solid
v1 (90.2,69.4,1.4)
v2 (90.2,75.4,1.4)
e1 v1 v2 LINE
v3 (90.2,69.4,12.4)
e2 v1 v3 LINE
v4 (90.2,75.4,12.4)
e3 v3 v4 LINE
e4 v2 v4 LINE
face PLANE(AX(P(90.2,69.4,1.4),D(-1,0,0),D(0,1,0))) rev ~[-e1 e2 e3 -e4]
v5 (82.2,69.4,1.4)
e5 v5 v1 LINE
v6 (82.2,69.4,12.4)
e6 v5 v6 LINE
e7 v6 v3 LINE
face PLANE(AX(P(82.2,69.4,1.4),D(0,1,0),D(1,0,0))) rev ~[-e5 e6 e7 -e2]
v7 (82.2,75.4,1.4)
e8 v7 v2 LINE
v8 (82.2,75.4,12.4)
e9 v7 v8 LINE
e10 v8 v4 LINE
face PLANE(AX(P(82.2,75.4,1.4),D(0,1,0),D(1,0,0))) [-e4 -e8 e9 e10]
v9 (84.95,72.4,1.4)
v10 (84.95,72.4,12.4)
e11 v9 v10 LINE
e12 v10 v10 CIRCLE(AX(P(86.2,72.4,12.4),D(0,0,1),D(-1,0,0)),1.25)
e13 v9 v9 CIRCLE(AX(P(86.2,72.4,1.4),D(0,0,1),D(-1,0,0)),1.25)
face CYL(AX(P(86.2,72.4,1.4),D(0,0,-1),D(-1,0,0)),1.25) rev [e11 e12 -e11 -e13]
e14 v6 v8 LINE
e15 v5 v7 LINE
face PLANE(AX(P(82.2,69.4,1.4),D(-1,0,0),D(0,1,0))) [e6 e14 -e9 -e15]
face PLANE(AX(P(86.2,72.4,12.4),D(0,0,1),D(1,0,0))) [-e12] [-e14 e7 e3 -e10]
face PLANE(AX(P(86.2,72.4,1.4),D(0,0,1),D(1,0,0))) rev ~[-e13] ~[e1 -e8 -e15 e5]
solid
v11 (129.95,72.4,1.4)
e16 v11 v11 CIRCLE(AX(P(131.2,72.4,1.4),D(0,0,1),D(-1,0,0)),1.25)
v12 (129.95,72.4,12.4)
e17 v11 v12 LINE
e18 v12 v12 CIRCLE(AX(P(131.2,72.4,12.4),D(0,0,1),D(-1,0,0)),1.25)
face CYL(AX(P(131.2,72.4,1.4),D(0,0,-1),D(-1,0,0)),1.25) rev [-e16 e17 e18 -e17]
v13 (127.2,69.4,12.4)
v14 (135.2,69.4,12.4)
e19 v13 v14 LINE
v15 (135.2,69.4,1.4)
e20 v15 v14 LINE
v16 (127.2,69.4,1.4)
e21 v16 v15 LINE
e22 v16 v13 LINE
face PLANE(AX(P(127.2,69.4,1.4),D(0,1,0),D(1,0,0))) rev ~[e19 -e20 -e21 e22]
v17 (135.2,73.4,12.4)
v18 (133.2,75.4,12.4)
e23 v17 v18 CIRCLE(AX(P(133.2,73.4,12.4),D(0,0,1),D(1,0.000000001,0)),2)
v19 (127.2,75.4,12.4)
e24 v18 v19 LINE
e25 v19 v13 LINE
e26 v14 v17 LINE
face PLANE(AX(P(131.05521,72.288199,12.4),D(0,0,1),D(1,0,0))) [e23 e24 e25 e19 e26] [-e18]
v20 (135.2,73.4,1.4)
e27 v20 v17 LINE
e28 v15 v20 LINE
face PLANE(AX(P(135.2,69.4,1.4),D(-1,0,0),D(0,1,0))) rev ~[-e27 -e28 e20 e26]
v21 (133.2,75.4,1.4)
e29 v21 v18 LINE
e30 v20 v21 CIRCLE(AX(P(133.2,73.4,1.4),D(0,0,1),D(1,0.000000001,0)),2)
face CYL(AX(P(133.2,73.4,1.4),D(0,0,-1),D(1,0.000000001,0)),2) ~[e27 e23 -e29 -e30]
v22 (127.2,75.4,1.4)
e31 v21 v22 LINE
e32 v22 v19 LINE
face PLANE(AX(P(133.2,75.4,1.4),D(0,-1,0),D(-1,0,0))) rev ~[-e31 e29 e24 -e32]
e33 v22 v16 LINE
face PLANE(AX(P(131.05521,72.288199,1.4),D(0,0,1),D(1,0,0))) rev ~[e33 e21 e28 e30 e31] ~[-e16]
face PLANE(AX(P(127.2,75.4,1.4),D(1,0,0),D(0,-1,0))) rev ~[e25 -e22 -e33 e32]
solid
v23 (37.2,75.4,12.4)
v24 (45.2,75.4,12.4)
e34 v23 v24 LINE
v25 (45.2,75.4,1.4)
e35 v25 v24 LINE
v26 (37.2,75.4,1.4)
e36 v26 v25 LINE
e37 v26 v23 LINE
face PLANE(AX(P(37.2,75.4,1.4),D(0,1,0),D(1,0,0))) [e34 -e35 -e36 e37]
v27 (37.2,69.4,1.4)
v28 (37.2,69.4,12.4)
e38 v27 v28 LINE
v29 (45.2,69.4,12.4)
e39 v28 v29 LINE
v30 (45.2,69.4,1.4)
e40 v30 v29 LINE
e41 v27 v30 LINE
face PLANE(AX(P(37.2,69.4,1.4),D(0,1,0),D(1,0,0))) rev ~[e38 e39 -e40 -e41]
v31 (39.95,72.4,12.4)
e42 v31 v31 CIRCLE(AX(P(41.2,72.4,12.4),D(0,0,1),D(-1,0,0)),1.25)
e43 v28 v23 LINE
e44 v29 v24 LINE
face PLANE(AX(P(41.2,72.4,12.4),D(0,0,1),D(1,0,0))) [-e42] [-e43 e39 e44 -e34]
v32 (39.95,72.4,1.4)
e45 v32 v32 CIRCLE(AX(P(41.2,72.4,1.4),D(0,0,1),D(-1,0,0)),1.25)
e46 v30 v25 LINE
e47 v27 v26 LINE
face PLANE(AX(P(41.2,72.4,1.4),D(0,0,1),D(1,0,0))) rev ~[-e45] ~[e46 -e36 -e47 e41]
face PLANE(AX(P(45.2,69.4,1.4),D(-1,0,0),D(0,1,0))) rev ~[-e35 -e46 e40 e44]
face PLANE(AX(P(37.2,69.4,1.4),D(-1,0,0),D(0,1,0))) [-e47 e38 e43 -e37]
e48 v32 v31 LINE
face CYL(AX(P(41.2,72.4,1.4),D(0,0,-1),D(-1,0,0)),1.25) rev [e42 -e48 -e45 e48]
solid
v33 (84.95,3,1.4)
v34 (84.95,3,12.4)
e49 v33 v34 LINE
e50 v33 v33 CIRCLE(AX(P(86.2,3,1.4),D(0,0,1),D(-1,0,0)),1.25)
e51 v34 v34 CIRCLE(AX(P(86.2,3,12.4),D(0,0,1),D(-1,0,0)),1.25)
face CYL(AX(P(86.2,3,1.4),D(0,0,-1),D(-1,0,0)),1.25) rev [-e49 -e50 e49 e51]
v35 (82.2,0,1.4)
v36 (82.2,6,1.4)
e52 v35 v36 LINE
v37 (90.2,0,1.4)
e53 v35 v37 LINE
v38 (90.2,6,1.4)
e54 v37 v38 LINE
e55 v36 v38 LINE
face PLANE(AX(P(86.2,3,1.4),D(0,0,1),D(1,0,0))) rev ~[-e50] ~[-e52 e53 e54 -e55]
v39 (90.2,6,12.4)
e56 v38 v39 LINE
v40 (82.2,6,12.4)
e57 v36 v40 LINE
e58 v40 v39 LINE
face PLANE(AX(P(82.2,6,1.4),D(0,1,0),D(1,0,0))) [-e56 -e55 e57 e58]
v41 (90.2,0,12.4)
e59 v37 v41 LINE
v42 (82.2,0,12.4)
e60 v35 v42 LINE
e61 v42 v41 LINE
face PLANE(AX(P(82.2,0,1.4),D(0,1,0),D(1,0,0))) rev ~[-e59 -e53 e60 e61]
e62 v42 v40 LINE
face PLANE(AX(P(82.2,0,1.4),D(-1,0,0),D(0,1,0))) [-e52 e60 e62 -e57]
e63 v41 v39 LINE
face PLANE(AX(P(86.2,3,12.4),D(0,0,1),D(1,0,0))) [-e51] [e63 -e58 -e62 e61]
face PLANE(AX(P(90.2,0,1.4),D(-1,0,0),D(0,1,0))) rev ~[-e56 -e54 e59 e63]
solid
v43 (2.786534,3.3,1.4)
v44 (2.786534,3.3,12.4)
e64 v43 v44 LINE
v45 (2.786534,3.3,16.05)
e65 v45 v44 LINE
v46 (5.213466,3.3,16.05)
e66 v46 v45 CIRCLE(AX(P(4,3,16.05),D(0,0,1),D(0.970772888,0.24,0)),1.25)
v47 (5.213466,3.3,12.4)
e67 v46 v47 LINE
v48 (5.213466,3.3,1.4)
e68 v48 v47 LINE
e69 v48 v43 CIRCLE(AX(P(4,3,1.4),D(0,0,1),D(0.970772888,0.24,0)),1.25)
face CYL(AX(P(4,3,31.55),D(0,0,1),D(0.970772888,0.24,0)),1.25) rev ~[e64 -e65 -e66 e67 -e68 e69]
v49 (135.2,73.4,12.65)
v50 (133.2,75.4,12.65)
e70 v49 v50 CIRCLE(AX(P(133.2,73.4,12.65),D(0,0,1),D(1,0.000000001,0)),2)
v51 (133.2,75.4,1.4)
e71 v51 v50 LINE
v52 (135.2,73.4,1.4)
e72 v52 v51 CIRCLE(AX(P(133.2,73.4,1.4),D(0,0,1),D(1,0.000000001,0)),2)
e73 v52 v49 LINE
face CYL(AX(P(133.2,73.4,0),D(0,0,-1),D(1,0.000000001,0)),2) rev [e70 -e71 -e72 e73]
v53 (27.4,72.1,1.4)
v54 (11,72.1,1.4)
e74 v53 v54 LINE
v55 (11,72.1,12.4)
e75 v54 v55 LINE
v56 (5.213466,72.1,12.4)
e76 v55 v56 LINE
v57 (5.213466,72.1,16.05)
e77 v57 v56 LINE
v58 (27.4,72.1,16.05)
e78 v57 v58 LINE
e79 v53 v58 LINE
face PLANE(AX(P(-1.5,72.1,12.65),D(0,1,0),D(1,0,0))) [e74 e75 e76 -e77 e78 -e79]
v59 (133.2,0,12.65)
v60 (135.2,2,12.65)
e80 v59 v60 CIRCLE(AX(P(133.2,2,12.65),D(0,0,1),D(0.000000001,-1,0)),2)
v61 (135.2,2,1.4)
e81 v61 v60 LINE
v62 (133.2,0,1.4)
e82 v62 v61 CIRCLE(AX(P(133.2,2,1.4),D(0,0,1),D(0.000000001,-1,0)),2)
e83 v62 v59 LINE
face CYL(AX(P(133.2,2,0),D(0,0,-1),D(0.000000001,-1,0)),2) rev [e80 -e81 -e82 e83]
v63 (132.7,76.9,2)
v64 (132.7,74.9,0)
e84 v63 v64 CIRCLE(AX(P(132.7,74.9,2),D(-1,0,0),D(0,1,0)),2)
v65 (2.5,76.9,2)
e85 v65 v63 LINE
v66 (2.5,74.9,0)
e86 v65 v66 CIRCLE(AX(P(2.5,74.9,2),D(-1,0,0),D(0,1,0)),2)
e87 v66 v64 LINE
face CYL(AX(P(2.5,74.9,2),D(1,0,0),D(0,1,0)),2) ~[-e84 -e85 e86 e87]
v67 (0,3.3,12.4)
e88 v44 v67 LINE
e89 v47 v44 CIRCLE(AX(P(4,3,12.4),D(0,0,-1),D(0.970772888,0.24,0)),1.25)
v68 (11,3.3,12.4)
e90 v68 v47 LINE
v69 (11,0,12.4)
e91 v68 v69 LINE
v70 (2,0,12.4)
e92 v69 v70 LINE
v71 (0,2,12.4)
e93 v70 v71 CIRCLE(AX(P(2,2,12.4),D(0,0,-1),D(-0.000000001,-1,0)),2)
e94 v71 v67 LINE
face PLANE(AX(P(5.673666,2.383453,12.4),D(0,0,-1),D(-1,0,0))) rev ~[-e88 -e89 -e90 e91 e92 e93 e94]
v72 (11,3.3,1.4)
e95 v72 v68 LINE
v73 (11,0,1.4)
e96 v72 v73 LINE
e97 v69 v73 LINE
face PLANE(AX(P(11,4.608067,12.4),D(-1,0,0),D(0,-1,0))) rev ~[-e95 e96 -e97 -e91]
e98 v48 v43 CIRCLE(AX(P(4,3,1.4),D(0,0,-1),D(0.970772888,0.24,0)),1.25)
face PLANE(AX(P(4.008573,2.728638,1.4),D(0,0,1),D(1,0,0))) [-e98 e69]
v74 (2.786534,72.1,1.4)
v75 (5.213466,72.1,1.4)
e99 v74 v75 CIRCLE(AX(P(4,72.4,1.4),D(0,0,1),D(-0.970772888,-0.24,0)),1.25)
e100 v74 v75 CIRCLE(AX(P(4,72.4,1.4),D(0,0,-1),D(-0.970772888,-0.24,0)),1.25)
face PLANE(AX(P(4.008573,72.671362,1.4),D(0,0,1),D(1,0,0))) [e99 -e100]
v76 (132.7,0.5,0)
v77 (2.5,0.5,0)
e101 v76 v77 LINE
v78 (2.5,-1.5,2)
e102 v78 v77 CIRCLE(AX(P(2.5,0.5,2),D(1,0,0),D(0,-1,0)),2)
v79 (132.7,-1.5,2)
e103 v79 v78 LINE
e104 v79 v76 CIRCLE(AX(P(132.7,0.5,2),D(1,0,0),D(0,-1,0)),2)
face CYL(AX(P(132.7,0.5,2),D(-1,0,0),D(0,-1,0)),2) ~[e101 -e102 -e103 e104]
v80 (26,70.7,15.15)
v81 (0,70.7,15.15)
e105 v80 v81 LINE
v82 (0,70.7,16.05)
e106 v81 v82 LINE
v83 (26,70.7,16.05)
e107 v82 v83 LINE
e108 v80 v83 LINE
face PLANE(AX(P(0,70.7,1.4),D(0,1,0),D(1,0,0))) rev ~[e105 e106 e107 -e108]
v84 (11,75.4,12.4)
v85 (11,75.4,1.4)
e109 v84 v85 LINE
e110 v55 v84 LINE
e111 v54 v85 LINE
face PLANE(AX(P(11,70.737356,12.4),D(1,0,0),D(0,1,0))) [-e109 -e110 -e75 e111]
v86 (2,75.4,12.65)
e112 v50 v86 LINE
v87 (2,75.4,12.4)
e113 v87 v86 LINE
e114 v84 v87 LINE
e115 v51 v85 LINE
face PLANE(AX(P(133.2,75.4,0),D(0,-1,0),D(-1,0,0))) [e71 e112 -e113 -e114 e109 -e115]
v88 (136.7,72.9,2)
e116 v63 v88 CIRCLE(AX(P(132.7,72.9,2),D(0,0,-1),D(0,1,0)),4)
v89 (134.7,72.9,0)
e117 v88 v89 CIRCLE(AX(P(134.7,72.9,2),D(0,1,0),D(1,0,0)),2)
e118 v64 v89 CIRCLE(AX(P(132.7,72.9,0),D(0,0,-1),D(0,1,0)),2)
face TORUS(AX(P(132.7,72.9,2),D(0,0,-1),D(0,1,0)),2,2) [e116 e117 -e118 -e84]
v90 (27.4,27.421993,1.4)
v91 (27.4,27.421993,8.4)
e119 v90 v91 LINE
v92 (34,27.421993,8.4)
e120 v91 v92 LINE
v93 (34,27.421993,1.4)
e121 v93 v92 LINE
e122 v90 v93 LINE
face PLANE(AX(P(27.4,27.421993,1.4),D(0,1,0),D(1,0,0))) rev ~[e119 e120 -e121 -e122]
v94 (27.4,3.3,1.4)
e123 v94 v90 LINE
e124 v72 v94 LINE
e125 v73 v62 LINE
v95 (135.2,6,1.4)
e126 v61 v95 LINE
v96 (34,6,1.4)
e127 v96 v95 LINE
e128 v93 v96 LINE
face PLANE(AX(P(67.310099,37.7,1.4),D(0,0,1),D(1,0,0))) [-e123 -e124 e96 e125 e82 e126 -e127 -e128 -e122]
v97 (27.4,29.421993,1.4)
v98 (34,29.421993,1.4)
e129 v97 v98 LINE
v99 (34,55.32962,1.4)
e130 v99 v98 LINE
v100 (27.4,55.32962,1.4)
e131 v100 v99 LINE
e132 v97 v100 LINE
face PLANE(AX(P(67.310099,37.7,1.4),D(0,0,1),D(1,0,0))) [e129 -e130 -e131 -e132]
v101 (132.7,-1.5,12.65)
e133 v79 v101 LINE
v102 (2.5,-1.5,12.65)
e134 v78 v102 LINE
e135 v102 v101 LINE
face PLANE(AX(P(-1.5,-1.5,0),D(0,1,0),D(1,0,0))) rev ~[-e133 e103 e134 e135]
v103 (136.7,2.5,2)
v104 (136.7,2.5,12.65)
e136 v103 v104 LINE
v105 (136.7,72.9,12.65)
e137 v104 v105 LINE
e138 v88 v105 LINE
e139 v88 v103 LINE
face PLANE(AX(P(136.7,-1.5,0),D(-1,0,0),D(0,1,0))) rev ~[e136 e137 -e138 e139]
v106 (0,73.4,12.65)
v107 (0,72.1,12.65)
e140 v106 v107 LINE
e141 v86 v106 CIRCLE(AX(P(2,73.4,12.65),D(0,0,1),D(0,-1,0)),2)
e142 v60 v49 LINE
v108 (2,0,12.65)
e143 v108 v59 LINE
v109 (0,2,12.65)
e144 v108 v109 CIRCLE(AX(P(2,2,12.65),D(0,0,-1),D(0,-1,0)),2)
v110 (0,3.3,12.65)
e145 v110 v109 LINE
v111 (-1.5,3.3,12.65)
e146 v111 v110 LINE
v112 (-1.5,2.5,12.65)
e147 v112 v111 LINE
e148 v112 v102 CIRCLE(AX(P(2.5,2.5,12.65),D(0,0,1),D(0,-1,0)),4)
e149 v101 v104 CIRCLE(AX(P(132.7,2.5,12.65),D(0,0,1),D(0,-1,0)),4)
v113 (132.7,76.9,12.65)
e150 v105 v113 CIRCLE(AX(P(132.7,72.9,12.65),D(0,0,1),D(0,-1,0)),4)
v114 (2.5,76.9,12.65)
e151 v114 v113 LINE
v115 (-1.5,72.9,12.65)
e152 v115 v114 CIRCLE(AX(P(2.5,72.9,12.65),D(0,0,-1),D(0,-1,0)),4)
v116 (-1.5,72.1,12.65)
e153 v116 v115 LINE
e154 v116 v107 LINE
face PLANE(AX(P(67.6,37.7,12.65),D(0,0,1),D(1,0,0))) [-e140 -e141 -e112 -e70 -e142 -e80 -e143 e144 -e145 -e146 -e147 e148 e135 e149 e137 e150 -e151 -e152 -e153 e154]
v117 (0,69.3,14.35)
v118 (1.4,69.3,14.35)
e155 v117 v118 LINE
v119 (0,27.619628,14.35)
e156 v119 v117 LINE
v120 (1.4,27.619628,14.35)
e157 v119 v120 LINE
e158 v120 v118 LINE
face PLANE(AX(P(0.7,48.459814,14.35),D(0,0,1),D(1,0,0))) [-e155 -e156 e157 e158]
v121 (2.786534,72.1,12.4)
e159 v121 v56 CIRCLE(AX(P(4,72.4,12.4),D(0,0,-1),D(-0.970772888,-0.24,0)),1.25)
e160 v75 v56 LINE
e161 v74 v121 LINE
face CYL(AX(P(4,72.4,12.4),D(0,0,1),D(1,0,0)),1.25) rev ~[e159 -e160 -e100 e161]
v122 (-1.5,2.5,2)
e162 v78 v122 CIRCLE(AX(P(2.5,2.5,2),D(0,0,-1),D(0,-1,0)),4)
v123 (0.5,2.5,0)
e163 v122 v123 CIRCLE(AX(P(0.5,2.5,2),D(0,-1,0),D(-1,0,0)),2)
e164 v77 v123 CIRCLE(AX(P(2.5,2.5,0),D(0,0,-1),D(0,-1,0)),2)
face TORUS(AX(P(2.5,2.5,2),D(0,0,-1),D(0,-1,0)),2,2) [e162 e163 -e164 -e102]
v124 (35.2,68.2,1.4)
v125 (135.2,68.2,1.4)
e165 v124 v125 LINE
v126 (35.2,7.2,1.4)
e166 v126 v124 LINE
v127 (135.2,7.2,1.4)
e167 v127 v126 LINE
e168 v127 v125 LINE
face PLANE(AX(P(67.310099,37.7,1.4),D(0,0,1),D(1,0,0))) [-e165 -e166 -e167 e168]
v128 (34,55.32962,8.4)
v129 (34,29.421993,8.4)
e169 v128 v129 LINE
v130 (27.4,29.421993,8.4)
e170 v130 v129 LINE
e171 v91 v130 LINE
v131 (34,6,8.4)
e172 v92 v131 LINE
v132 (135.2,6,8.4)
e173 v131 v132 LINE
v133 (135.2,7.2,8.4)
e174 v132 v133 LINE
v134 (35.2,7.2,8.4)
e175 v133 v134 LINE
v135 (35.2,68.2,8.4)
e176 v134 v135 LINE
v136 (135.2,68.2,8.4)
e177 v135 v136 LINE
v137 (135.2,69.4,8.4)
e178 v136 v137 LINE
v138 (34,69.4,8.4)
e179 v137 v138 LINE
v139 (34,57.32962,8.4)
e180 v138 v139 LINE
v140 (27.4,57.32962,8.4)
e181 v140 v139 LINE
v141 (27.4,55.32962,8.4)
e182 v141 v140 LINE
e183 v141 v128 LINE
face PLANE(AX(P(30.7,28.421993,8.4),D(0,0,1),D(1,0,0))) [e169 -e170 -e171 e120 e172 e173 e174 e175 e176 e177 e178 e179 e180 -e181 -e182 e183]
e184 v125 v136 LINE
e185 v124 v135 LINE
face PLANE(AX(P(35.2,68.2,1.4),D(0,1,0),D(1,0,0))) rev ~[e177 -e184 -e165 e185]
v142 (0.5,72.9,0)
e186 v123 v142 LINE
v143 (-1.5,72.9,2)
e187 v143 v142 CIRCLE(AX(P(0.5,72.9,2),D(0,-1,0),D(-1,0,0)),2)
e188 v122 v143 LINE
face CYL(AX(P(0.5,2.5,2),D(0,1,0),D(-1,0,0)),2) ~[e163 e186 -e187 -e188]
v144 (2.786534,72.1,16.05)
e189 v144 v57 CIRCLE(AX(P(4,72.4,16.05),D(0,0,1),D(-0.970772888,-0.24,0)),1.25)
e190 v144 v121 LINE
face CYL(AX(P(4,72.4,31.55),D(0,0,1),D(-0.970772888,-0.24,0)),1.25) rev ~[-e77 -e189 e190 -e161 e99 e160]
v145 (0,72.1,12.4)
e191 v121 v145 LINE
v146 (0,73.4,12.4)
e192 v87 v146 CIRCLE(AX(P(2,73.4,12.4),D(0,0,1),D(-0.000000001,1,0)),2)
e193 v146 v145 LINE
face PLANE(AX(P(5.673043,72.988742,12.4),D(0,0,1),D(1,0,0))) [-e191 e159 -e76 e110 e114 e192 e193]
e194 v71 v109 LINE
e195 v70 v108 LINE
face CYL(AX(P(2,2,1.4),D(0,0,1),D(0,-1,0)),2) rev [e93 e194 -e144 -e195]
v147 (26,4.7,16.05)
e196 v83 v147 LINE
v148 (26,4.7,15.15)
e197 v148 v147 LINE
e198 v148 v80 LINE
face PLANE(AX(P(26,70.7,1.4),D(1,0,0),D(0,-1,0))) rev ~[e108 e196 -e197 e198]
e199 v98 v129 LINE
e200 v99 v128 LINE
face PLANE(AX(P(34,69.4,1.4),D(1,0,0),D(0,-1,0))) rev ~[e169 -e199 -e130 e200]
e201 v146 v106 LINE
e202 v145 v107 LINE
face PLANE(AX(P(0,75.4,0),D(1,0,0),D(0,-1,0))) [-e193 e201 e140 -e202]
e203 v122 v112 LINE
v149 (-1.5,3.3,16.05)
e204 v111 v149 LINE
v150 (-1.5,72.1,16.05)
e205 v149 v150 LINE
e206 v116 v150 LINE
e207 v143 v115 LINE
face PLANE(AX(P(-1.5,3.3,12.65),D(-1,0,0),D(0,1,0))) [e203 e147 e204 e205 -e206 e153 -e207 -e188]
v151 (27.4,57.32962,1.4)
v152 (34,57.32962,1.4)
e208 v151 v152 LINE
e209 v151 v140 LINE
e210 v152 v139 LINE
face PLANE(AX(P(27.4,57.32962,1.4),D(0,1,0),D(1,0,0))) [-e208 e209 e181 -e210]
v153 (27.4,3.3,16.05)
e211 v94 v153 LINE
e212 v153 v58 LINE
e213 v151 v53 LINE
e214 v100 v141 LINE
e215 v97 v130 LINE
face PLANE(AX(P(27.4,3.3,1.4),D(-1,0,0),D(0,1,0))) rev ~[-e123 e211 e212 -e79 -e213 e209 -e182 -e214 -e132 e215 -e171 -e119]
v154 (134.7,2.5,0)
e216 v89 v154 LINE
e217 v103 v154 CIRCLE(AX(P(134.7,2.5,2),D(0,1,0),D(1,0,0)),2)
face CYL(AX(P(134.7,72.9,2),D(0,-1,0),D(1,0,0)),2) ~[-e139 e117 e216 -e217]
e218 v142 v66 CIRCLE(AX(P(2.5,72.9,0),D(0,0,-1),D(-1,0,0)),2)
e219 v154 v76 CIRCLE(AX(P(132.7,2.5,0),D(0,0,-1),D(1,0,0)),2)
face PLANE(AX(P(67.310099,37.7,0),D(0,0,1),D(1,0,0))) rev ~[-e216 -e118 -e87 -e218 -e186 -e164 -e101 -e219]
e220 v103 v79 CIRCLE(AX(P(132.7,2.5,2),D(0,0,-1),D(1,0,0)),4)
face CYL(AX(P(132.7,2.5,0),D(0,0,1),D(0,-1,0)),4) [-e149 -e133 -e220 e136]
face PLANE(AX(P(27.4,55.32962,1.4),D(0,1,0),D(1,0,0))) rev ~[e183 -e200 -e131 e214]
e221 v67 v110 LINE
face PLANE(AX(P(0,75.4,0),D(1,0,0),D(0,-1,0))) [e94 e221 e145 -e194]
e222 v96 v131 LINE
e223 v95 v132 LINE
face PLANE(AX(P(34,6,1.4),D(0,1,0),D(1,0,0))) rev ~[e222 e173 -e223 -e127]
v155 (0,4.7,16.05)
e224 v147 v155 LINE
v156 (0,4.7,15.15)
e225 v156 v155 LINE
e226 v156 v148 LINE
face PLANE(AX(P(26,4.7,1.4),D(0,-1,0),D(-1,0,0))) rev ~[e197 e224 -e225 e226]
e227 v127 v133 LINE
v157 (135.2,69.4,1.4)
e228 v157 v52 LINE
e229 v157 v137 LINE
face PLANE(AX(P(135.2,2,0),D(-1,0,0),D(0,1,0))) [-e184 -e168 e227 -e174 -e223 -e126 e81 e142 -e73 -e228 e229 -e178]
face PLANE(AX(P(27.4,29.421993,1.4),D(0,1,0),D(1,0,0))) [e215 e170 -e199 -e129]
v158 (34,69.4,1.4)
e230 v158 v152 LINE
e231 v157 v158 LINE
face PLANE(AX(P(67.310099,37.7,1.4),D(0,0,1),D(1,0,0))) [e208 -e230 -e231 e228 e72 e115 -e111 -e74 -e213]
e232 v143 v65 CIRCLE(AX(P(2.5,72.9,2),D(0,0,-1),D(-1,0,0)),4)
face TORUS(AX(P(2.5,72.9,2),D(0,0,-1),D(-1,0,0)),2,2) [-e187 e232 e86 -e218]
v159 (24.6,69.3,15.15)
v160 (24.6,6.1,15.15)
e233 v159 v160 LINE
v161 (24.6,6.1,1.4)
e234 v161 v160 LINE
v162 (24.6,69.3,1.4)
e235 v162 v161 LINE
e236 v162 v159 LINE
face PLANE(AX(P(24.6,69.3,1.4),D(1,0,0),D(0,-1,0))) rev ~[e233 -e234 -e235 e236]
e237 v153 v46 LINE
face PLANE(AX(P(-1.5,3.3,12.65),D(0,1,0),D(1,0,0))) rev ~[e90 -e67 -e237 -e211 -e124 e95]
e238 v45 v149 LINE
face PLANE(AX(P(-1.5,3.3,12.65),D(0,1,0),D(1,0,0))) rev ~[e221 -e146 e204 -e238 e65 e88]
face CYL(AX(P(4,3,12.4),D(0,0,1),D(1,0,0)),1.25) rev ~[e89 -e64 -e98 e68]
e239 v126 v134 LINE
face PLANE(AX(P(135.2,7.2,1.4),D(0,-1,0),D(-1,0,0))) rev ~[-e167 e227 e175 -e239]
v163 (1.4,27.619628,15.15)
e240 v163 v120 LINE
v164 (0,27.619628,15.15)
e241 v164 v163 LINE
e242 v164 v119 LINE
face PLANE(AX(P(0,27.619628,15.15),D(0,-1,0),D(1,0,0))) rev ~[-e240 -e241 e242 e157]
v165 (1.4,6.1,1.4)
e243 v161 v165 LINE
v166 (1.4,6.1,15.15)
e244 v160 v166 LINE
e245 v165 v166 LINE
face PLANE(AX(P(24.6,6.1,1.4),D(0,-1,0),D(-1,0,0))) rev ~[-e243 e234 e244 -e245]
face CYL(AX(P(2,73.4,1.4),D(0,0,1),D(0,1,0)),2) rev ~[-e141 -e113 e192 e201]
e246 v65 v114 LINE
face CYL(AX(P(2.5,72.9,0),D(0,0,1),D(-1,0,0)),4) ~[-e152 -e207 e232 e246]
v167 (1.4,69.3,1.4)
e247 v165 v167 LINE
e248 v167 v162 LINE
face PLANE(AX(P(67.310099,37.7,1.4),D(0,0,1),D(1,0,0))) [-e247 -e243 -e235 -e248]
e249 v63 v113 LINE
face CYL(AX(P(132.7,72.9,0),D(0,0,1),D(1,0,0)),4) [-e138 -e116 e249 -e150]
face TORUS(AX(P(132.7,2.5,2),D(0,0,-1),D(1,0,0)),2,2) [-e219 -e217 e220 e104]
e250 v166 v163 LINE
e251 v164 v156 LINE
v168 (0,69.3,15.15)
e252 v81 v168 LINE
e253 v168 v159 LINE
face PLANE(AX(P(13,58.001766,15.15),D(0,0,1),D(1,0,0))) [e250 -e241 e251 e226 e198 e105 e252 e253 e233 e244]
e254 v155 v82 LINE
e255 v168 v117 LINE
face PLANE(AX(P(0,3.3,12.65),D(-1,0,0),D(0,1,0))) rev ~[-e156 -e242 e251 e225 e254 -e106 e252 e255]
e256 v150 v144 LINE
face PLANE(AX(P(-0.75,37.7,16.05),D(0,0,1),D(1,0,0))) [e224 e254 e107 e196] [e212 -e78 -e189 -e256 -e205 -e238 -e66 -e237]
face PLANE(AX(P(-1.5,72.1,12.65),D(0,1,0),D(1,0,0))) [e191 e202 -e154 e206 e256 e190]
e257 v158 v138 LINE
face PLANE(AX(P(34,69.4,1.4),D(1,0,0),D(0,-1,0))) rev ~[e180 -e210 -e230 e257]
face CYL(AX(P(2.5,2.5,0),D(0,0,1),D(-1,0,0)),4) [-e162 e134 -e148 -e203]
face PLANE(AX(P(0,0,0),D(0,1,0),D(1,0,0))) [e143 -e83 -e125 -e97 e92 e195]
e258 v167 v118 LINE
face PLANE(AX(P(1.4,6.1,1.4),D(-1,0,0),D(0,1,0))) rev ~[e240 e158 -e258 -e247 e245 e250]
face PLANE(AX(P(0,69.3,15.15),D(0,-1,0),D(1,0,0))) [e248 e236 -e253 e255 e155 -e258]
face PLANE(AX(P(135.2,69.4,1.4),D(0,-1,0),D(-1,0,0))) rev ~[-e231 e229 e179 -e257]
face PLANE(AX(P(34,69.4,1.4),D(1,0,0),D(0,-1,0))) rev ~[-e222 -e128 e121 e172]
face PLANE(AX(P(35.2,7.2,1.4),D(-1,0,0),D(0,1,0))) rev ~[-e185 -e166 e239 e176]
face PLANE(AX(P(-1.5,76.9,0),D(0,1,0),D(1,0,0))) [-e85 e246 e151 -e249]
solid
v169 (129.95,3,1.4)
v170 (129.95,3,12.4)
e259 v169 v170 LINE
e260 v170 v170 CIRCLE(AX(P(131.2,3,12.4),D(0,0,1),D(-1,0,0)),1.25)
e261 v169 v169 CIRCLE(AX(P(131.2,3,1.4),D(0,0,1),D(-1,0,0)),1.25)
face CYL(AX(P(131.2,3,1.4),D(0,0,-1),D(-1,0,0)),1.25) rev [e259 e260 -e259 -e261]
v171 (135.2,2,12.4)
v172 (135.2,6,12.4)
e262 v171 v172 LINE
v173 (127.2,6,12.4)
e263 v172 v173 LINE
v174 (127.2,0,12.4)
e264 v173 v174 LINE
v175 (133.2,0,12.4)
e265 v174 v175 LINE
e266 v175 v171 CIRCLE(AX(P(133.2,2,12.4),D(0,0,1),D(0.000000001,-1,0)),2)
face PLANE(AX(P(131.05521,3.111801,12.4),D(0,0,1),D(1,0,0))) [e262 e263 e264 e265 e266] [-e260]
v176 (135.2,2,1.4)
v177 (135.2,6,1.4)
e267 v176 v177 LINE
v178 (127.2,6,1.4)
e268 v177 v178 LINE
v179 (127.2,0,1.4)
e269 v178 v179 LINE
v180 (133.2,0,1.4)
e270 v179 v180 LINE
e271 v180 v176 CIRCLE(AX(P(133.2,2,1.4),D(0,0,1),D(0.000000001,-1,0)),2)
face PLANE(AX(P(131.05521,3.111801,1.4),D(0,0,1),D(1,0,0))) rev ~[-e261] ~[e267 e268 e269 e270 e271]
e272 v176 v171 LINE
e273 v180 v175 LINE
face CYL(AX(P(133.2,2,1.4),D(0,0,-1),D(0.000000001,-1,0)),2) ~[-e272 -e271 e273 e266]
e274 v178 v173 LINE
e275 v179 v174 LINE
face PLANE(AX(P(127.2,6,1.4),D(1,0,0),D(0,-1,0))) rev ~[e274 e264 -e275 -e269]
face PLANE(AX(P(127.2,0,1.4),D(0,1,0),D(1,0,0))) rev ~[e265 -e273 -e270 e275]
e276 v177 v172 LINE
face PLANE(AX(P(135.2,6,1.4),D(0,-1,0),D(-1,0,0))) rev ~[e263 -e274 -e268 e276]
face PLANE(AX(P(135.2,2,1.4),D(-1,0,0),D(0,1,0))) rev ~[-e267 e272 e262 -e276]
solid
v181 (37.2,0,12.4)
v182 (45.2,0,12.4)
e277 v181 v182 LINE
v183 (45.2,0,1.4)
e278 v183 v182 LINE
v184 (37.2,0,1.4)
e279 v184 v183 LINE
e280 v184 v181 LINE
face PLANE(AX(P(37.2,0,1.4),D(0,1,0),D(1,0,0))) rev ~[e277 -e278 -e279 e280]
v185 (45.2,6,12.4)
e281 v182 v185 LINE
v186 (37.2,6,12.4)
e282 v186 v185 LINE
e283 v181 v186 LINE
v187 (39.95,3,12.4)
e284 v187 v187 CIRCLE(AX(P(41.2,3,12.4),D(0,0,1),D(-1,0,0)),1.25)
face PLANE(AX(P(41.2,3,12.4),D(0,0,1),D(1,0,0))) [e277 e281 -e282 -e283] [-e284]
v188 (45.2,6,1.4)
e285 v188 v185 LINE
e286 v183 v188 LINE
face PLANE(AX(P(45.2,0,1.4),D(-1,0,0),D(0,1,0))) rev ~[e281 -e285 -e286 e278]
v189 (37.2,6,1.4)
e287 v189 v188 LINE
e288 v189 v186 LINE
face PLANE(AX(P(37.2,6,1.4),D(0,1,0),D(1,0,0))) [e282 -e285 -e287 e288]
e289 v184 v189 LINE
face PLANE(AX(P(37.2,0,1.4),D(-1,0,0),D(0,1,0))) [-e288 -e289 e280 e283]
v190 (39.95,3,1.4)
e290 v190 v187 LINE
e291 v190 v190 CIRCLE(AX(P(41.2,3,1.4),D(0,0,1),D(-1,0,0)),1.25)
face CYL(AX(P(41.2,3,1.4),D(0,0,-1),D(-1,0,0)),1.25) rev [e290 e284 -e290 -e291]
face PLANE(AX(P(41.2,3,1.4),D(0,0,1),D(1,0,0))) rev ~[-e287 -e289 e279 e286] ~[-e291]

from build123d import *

# Parameters (mm, degrees)
ESQUISSE1_W             = 138.2
ESQUISSE1_H             = 78.4
BOSS_EXTRU_1_DEPTH      = 12.65
BOSS_EXTRU_2_DEPTH      = 1.4
BOSS_EXTRU_5_START      = 1.4
ESQUISSE1_5_R           = 1.25
BOSS_EXTRU_5_DEPTH      = 11
ESQUISSE1_5_W           = 8
ESQUISSE1_5_H           = 6
BOSS_EXTRU_5_2_DEPTH    = 11
BOSS_EXTRU_5_3_DEPTH    = 11
BOSS_EXTRU_5_4_DEPTH    = 11
BOSS_EXTRU_5_5_DEPTH    = 11
BOSS_EXTRU_5_6_DEPTH    = 11
BOSS_EXTRU_7_START      = 1.4
BOSS_EXTRU_7_DEPTH      = 7
CONG_1_R                = 4
CONG_4_R                = 2
BOSS_EXTRU_8_START      = 1.4
BOSS_EXTRU_8_DEPTH      = 13.75
BOSS_EXTRU_9_START      = 1.4
BOSS_EXTRU_9_DEPTH      = 14.65
BOSS_EXTRU_11_START     = 11
ESQUISSE4_R             = 1.25
BOSS_EXTRU_11_DEPTH     = 11
ESQUISSE5_W             = 6.6
ESQUISSE5_H             = 2
BOSS_EXTRU_12_DEPTH     = 7
CONG_3_R                = 2
ESQUISSE7_W             = 1.4
ESQUISSE7_H             = 41.680372202
ENL_V_MAT_EXTRU_3_DEPTH = 0.8
ESQUISSE2_W             = 1.5
ESQUISSE2_H             = 68.8
BOSS_EXTRU_14_DEPTH     = 3.4
ENL_V_START             = 30.15
ENL_V_MAT_EXTRU_4_DEPTH = 30.15


with BuildPart() as part:
    # Esquisse1 → Boss.-Extru.1 (new body)
    with BuildSketch(Plane.XY):
        with Locations((67.6, 37.7)):
            Rectangle(ESQUISSE1_W, ESQUISSE1_H)
        with BuildLine():
            Line((0, 0), (133.2, 0))
            ThreePointArc((133.2, 0), (134.614213562, 0.585786438), (135.2, 2))
            Line((135.2, 2), (135.2, 73.4))
            ThreePointArc((135.2, 73.4), (134.614213562, 74.814213562), (133.2, 75.4))
            Line((133.2, 75.4), (0, 75.4))
            Line((0, 75.4), (0, 0))
        make_face(mode=Mode.SUBTRACT)
    extrude(amount=BOSS_EXTRU_1_DEPTH)

    # Esquisse1<4> → Boss.-Extru.2 (add)
    with BuildSketch(Plane.XY):
        with BuildLine():
            Line((0, 0), (133.2, 0))
            ThreePointArc((133.2, 0), (134.614213562, 0.585786438), (135.2, 2))
            Line((135.2, 2), (135.2, 73.4))
            ThreePointArc((135.2, 73.4), (134.614213562, 74.814213562), (133.2, 75.4))
            Line((133.2, 75.4), (0, 75.4))
            Line((0, 75.4), (0, 0))
        make_face()
    extrude(amount=BOSS_EXTRU_2_DEPTH)

    # Esquisse1<6> → Boss.-Extru.7 (add)
    with BuildSketch(Plane.XY.offset(BOSS_EXTRU_7_START)):
        Polygon((135.2, 68.2), (135.2, 69.4), (127.2, 69.4), (90.2, 69.4), (82.2, 69.4), (45.2, 69.4), (37.2, 69.4), (34, 69.4), (34, 37.7), (35.2, 37.7), (35.2, 68.2), align=None)
        Polygon((135.2, 6), (135.2, 7.2), (35.2, 7.2), (35.2, 37.7), (34, 37.7), (34, 6), (37.2, 6), (45.2, 6), (82.2, 6), (90.2, 6), (127.2, 6), align=None)
    extrude(amount=BOSS_EXTRU_7_DEPTH)

    # Congé1
    cong_1_edges = [part.edges().sort_by_distance(p)[0] for p in [
        (-1.5, 76.9, 6.325),
        (136.7, 76.9, 6.325),
        (136.7, -1.5, 6.325),
        (-1.5, -1.5, 6.325),
    ]]
    fillet(cong_1_edges, radius=CONG_1_R)

    # Congé4
    cong_4_edges = [part.edges().sort_by_distance(p)[0] for p in [
        (0, 75.4, 7.025),
        (0, 0, 7.025),
    ]]
    fillet(cong_4_edges, radius=CONG_4_R)

    # Esquisse1<7> → Boss.-Extru.8 (add)
    with BuildSketch(Plane.XY.offset(BOSS_EXTRU_8_START)):
        Polygon((24.6, 37.7), (26, 37.7), (26, 70.7), (0, 70.7), (0, 37.7), (1.4, 37.7), (1.4, 69.3), (24.6, 69.3), align=None)
        Polygon((26, 4.7), (26, 37.7), (24.6, 37.7), (24.6, 6.1), (1.4, 6.1), (1.4, 37.7), (0, 37.7), (0, 4.7), align=None)
    extrude(amount=BOSS_EXTRU_8_DEPTH)

    # Esquisse1<8> → Boss.-Extru.9 (add)
    with BuildSketch(Plane.XY.offset(BOSS_EXTRU_9_START)):
        Polygon((27.4, 3.3), (27.4, 72.1), (0, 72.1), (0, 70.7), (26, 70.7), (26, 4.7), (0, 4.7), (0, 3.3), align=None)
    extrude(amount=BOSS_EXTRU_9_DEPTH)

    # Esquisse4 → Boss.-Extru.11 (add)
    # profile 1 of 2: a face of its own
    with BuildSketch(Plane.XY.offset(1.4).offset(BOSS_EXTRU_11_START)):
        with BuildLine():
            Line((11, 75.4), (2, 75.4))
            ThreePointArc((2, 75.4), (0.585786438, 74.814213562), (0, 73.4))
            Line((0, 73.4), (0, 70.737356087))
            Line((0, 70.737356087), (11, 70.737356087))
            Line((11, 70.737356087), (11, 75.4))
        make_face()
        with Locations((4, 72.4)):
            Circle(ESQUISSE4_R, mode=Mode.SUBTRACT)
    # profile 2 of 2: a face of its own
    with BuildSketch(Plane.XY.offset(1.4).offset(BOSS_EXTRU_11_START)):
        with BuildLine():
            Line((0, 4.608067271), (11, 4.608067271))
            Line((11, 4.608067271), (11, 0))
            Line((11, 0), (2, 0))
            ThreePointArc((2, 0), (0.585786438, 0.585786438), (0, 2))
            Line((0, 2), (0, 4.608067271))
        make_face()
        with Locations((4, 3)):
            Circle(ESQUISSE4_R, mode=Mode.SUBTRACT)
    extrude(amount=-BOSS_EXTRU_11_DEPTH)

    # Esquisse5 → Boss.-Extru.12 (add)
    with BuildSketch(Plane.XY.offset(1.4)):
        with Locations((30.7, 56.329620473)):
            Rectangle(ESQUISSE5_W, ESQUISSE5_H)
        with Locations((30.7, 28.421993419)):
            Rectangle(ESQUISSE5_W, ESQUISSE5_H)
    extrude(amount=BOSS_EXTRU_12_DEPTH)

    # Congé3
    cong_3_edges = [part.edges().sort_by_distance(p)[0] for p in [
        (-1.5, 37.7, 0),
        (67.6, 76.9, 0),
        (136.7, 37.7, 0),
        (67.6, -1.5, 0),
        (135.528427125, 75.728427125, 0),
        (135.528427125, -0.328427125, 0),
        (-0.328427125, -0.328427125, 0),
        (-0.328427125, 75.728427125, 0),
    ]]
    fillet(cong_3_edges, radius=CONG_3_R)

    # Esquisse7 → Enlèv. mat.-Extru.3 (cut)
    with BuildSketch(Plane.XY.offset(15.15)):
        with Locations((0.7, 48.459813899)):
            Rectangle(ESQUISSE7_W, ESQUISSE7_H)
    extrude(amount=-ENL_V_MAT_EXTRU_3_DEPTH, mode=Mode.SUBTRACT)

    # Esquisse2 → Boss.-Extru.14 (add)
    with BuildSketch(Plane.XY.offset(12.65)):
        with Locations((-0.75, 37.7)):
            Rectangle(ESQUISSE2_W, ESQUISSE2_H)
    extrude(amount=BOSS_EXTRU_14_DEPTH)

    # Esquisse4<2> → Enlèv. mat.-Extru.4 (cut)
    with BuildSketch(Plane.XY.offset(1.4).offset(ENL_V_START)):
        with BuildLine():
            Line((2.78653389, 72.1), (5.21346611, 72.1))
            ThreePointArc((5.21346611, 72.1), (5.240832913, 72.248891823), (5.25, 72.4))
            ThreePointArc((5.25, 72.4), (3.848891823, 73.640832913), (2.78653389, 72.1))
        make_face()
        with BuildLine():
            ThreePointArc((2.78653389, 72.1), (4, 71.15), (5.21346611, 72.1))
            Line((5.21346611, 72.1), (2.78653389, 72.1))
        make_face()
        with BuildLine():
            Line((5.21346611, 3.3), (2.78653389, 3.3))
            ThreePointArc((2.78653389, 3.3), (3.848891823, 1.759167087), (5.25, 3))
            ThreePointArc((5.25, 3), (5.240832913, 3.151108177), (5.21346611, 3.3))
        make_face()
        with BuildLine():
            ThreePointArc((5.21346611, 3.3), (4, 4.25), (2.78653389, 3.3))
            Line((2.78653389, 3.3), (5.21346611, 3.3))
        make_face()
    extrude(amount=-ENL_V_MAT_EXTRU_4_DEPTH, mode=Mode.SUBTRACT)


with BuildPart() as body_2:
    # Esquisse1<5> → Boss.-Extru.5 (new body)
    with BuildSketch(Plane.XY.offset(BOSS_EXTRU_5_START)):
        with BuildLine():
            Line((127.2, 69.4), (135.2, 69.4))
            Line((135.2, 69.4), (135.2, 73.4))
            ThreePointArc((135.2, 73.4), (134.614213562, 74.814213562), (133.2, 75.4))
            Line((133.2, 75.4), (127.2, 75.4))
            Line((127.2, 75.4), (127.2, 69.4))
        make_face()
        with Locations(Location((131.2, 72.4, 0), (0, 0, 180))):
            Circle(ESQUISSE1_5_R, mode=Mode.SUBTRACT)
    extrude(amount=BOSS_EXTRU_5_DEPTH)


with BuildPart() as body_3:
    # Esquisse1<5> → Boss.-Extru.5 2 (new body)
    with BuildSketch(Plane.XY.offset(BOSS_EXTRU_5_START)):
        with Locations((86.2, 72.4)):
            Rectangle(ESQUISSE1_5_W, ESQUISSE1_5_H)
        with Locations(Location((86.2, 72.4, 0), (0, 0, 180))):
            Circle(ESQUISSE1_5_R, mode=Mode.SUBTRACT)
    extrude(amount=BOSS_EXTRU_5_2_DEPTH)


with BuildPart() as body_4:
    # Esquisse1<5> → Boss.-Extru.5 3 (new body)
    with BuildSketch(Plane.XY.offset(BOSS_EXTRU_5_START)):
        with BuildLine():
            Line((135.2, 2), (135.2, 6))
            Line((135.2, 6), (127.2, 6))
            Line((127.2, 6), (127.2, 0))
            Line((127.2, 0), (133.2, 0))
            ThreePointArc((133.2, 0), (134.614213562, 0.585786438), (135.2, 2))
        make_face()
        with Locations(Location((131.2, 3, 0), (0, 0, 180))):
            Circle(ESQUISSE1_5_R, mode=Mode.SUBTRACT)
    extrude(amount=BOSS_EXTRU_5_3_DEPTH)


with BuildPart() as body_5:
    # Esquisse1<5> → Boss.-Extru.5 4 (new body)
    with BuildSketch(Plane.XY.offset(BOSS_EXTRU_5_START)):
        with Locations((41.2, 72.4)):
            Rectangle(ESQUISSE1_5_W, ESQUISSE1_5_H)
        with Locations(Location((41.2, 72.4, 0), (0, 0, 180))):
            Circle(ESQUISSE1_5_R, mode=Mode.SUBTRACT)
    extrude(amount=BOSS_EXTRU_5_4_DEPTH)


with BuildPart() as body_6:
    # Esquisse1<5> → Boss.-Extru.5 5 (new body)
    with BuildSketch(Plane.XY.offset(BOSS_EXTRU_5_START)):
        with Locations((86.2, 3)):
            Rectangle(ESQUISSE1_5_W, ESQUISSE1_5_H)
        with Locations(Location((86.2, 3, 0), (0, 0, 180))):
            Circle(ESQUISSE1_5_R, mode=Mode.SUBTRACT)
    extrude(amount=BOSS_EXTRU_5_5_DEPTH)


with BuildPart() as body_7:
    # Esquisse1<5> → Boss.-Extru.5 6 (new body)
    with BuildSketch(Plane.XY.offset(BOSS_EXTRU_5_START)):
        with Locations((41.2, 3)):
            Rectangle(ESQUISSE1_5_W, ESQUISSE1_5_H)
        with Locations(Location((41.2, 3, 0), (0, 0, 180))):
            Circle(ESQUISSE1_5_R, mode=Mode.SUBTRACT)
    extrude(amount=BOSS_EXTRU_5_6_DEPTH)


solid = Compound([part.part, body_2.part, body_3.part, body_4.part, body_5.part, body_6.part, body_7.part])
